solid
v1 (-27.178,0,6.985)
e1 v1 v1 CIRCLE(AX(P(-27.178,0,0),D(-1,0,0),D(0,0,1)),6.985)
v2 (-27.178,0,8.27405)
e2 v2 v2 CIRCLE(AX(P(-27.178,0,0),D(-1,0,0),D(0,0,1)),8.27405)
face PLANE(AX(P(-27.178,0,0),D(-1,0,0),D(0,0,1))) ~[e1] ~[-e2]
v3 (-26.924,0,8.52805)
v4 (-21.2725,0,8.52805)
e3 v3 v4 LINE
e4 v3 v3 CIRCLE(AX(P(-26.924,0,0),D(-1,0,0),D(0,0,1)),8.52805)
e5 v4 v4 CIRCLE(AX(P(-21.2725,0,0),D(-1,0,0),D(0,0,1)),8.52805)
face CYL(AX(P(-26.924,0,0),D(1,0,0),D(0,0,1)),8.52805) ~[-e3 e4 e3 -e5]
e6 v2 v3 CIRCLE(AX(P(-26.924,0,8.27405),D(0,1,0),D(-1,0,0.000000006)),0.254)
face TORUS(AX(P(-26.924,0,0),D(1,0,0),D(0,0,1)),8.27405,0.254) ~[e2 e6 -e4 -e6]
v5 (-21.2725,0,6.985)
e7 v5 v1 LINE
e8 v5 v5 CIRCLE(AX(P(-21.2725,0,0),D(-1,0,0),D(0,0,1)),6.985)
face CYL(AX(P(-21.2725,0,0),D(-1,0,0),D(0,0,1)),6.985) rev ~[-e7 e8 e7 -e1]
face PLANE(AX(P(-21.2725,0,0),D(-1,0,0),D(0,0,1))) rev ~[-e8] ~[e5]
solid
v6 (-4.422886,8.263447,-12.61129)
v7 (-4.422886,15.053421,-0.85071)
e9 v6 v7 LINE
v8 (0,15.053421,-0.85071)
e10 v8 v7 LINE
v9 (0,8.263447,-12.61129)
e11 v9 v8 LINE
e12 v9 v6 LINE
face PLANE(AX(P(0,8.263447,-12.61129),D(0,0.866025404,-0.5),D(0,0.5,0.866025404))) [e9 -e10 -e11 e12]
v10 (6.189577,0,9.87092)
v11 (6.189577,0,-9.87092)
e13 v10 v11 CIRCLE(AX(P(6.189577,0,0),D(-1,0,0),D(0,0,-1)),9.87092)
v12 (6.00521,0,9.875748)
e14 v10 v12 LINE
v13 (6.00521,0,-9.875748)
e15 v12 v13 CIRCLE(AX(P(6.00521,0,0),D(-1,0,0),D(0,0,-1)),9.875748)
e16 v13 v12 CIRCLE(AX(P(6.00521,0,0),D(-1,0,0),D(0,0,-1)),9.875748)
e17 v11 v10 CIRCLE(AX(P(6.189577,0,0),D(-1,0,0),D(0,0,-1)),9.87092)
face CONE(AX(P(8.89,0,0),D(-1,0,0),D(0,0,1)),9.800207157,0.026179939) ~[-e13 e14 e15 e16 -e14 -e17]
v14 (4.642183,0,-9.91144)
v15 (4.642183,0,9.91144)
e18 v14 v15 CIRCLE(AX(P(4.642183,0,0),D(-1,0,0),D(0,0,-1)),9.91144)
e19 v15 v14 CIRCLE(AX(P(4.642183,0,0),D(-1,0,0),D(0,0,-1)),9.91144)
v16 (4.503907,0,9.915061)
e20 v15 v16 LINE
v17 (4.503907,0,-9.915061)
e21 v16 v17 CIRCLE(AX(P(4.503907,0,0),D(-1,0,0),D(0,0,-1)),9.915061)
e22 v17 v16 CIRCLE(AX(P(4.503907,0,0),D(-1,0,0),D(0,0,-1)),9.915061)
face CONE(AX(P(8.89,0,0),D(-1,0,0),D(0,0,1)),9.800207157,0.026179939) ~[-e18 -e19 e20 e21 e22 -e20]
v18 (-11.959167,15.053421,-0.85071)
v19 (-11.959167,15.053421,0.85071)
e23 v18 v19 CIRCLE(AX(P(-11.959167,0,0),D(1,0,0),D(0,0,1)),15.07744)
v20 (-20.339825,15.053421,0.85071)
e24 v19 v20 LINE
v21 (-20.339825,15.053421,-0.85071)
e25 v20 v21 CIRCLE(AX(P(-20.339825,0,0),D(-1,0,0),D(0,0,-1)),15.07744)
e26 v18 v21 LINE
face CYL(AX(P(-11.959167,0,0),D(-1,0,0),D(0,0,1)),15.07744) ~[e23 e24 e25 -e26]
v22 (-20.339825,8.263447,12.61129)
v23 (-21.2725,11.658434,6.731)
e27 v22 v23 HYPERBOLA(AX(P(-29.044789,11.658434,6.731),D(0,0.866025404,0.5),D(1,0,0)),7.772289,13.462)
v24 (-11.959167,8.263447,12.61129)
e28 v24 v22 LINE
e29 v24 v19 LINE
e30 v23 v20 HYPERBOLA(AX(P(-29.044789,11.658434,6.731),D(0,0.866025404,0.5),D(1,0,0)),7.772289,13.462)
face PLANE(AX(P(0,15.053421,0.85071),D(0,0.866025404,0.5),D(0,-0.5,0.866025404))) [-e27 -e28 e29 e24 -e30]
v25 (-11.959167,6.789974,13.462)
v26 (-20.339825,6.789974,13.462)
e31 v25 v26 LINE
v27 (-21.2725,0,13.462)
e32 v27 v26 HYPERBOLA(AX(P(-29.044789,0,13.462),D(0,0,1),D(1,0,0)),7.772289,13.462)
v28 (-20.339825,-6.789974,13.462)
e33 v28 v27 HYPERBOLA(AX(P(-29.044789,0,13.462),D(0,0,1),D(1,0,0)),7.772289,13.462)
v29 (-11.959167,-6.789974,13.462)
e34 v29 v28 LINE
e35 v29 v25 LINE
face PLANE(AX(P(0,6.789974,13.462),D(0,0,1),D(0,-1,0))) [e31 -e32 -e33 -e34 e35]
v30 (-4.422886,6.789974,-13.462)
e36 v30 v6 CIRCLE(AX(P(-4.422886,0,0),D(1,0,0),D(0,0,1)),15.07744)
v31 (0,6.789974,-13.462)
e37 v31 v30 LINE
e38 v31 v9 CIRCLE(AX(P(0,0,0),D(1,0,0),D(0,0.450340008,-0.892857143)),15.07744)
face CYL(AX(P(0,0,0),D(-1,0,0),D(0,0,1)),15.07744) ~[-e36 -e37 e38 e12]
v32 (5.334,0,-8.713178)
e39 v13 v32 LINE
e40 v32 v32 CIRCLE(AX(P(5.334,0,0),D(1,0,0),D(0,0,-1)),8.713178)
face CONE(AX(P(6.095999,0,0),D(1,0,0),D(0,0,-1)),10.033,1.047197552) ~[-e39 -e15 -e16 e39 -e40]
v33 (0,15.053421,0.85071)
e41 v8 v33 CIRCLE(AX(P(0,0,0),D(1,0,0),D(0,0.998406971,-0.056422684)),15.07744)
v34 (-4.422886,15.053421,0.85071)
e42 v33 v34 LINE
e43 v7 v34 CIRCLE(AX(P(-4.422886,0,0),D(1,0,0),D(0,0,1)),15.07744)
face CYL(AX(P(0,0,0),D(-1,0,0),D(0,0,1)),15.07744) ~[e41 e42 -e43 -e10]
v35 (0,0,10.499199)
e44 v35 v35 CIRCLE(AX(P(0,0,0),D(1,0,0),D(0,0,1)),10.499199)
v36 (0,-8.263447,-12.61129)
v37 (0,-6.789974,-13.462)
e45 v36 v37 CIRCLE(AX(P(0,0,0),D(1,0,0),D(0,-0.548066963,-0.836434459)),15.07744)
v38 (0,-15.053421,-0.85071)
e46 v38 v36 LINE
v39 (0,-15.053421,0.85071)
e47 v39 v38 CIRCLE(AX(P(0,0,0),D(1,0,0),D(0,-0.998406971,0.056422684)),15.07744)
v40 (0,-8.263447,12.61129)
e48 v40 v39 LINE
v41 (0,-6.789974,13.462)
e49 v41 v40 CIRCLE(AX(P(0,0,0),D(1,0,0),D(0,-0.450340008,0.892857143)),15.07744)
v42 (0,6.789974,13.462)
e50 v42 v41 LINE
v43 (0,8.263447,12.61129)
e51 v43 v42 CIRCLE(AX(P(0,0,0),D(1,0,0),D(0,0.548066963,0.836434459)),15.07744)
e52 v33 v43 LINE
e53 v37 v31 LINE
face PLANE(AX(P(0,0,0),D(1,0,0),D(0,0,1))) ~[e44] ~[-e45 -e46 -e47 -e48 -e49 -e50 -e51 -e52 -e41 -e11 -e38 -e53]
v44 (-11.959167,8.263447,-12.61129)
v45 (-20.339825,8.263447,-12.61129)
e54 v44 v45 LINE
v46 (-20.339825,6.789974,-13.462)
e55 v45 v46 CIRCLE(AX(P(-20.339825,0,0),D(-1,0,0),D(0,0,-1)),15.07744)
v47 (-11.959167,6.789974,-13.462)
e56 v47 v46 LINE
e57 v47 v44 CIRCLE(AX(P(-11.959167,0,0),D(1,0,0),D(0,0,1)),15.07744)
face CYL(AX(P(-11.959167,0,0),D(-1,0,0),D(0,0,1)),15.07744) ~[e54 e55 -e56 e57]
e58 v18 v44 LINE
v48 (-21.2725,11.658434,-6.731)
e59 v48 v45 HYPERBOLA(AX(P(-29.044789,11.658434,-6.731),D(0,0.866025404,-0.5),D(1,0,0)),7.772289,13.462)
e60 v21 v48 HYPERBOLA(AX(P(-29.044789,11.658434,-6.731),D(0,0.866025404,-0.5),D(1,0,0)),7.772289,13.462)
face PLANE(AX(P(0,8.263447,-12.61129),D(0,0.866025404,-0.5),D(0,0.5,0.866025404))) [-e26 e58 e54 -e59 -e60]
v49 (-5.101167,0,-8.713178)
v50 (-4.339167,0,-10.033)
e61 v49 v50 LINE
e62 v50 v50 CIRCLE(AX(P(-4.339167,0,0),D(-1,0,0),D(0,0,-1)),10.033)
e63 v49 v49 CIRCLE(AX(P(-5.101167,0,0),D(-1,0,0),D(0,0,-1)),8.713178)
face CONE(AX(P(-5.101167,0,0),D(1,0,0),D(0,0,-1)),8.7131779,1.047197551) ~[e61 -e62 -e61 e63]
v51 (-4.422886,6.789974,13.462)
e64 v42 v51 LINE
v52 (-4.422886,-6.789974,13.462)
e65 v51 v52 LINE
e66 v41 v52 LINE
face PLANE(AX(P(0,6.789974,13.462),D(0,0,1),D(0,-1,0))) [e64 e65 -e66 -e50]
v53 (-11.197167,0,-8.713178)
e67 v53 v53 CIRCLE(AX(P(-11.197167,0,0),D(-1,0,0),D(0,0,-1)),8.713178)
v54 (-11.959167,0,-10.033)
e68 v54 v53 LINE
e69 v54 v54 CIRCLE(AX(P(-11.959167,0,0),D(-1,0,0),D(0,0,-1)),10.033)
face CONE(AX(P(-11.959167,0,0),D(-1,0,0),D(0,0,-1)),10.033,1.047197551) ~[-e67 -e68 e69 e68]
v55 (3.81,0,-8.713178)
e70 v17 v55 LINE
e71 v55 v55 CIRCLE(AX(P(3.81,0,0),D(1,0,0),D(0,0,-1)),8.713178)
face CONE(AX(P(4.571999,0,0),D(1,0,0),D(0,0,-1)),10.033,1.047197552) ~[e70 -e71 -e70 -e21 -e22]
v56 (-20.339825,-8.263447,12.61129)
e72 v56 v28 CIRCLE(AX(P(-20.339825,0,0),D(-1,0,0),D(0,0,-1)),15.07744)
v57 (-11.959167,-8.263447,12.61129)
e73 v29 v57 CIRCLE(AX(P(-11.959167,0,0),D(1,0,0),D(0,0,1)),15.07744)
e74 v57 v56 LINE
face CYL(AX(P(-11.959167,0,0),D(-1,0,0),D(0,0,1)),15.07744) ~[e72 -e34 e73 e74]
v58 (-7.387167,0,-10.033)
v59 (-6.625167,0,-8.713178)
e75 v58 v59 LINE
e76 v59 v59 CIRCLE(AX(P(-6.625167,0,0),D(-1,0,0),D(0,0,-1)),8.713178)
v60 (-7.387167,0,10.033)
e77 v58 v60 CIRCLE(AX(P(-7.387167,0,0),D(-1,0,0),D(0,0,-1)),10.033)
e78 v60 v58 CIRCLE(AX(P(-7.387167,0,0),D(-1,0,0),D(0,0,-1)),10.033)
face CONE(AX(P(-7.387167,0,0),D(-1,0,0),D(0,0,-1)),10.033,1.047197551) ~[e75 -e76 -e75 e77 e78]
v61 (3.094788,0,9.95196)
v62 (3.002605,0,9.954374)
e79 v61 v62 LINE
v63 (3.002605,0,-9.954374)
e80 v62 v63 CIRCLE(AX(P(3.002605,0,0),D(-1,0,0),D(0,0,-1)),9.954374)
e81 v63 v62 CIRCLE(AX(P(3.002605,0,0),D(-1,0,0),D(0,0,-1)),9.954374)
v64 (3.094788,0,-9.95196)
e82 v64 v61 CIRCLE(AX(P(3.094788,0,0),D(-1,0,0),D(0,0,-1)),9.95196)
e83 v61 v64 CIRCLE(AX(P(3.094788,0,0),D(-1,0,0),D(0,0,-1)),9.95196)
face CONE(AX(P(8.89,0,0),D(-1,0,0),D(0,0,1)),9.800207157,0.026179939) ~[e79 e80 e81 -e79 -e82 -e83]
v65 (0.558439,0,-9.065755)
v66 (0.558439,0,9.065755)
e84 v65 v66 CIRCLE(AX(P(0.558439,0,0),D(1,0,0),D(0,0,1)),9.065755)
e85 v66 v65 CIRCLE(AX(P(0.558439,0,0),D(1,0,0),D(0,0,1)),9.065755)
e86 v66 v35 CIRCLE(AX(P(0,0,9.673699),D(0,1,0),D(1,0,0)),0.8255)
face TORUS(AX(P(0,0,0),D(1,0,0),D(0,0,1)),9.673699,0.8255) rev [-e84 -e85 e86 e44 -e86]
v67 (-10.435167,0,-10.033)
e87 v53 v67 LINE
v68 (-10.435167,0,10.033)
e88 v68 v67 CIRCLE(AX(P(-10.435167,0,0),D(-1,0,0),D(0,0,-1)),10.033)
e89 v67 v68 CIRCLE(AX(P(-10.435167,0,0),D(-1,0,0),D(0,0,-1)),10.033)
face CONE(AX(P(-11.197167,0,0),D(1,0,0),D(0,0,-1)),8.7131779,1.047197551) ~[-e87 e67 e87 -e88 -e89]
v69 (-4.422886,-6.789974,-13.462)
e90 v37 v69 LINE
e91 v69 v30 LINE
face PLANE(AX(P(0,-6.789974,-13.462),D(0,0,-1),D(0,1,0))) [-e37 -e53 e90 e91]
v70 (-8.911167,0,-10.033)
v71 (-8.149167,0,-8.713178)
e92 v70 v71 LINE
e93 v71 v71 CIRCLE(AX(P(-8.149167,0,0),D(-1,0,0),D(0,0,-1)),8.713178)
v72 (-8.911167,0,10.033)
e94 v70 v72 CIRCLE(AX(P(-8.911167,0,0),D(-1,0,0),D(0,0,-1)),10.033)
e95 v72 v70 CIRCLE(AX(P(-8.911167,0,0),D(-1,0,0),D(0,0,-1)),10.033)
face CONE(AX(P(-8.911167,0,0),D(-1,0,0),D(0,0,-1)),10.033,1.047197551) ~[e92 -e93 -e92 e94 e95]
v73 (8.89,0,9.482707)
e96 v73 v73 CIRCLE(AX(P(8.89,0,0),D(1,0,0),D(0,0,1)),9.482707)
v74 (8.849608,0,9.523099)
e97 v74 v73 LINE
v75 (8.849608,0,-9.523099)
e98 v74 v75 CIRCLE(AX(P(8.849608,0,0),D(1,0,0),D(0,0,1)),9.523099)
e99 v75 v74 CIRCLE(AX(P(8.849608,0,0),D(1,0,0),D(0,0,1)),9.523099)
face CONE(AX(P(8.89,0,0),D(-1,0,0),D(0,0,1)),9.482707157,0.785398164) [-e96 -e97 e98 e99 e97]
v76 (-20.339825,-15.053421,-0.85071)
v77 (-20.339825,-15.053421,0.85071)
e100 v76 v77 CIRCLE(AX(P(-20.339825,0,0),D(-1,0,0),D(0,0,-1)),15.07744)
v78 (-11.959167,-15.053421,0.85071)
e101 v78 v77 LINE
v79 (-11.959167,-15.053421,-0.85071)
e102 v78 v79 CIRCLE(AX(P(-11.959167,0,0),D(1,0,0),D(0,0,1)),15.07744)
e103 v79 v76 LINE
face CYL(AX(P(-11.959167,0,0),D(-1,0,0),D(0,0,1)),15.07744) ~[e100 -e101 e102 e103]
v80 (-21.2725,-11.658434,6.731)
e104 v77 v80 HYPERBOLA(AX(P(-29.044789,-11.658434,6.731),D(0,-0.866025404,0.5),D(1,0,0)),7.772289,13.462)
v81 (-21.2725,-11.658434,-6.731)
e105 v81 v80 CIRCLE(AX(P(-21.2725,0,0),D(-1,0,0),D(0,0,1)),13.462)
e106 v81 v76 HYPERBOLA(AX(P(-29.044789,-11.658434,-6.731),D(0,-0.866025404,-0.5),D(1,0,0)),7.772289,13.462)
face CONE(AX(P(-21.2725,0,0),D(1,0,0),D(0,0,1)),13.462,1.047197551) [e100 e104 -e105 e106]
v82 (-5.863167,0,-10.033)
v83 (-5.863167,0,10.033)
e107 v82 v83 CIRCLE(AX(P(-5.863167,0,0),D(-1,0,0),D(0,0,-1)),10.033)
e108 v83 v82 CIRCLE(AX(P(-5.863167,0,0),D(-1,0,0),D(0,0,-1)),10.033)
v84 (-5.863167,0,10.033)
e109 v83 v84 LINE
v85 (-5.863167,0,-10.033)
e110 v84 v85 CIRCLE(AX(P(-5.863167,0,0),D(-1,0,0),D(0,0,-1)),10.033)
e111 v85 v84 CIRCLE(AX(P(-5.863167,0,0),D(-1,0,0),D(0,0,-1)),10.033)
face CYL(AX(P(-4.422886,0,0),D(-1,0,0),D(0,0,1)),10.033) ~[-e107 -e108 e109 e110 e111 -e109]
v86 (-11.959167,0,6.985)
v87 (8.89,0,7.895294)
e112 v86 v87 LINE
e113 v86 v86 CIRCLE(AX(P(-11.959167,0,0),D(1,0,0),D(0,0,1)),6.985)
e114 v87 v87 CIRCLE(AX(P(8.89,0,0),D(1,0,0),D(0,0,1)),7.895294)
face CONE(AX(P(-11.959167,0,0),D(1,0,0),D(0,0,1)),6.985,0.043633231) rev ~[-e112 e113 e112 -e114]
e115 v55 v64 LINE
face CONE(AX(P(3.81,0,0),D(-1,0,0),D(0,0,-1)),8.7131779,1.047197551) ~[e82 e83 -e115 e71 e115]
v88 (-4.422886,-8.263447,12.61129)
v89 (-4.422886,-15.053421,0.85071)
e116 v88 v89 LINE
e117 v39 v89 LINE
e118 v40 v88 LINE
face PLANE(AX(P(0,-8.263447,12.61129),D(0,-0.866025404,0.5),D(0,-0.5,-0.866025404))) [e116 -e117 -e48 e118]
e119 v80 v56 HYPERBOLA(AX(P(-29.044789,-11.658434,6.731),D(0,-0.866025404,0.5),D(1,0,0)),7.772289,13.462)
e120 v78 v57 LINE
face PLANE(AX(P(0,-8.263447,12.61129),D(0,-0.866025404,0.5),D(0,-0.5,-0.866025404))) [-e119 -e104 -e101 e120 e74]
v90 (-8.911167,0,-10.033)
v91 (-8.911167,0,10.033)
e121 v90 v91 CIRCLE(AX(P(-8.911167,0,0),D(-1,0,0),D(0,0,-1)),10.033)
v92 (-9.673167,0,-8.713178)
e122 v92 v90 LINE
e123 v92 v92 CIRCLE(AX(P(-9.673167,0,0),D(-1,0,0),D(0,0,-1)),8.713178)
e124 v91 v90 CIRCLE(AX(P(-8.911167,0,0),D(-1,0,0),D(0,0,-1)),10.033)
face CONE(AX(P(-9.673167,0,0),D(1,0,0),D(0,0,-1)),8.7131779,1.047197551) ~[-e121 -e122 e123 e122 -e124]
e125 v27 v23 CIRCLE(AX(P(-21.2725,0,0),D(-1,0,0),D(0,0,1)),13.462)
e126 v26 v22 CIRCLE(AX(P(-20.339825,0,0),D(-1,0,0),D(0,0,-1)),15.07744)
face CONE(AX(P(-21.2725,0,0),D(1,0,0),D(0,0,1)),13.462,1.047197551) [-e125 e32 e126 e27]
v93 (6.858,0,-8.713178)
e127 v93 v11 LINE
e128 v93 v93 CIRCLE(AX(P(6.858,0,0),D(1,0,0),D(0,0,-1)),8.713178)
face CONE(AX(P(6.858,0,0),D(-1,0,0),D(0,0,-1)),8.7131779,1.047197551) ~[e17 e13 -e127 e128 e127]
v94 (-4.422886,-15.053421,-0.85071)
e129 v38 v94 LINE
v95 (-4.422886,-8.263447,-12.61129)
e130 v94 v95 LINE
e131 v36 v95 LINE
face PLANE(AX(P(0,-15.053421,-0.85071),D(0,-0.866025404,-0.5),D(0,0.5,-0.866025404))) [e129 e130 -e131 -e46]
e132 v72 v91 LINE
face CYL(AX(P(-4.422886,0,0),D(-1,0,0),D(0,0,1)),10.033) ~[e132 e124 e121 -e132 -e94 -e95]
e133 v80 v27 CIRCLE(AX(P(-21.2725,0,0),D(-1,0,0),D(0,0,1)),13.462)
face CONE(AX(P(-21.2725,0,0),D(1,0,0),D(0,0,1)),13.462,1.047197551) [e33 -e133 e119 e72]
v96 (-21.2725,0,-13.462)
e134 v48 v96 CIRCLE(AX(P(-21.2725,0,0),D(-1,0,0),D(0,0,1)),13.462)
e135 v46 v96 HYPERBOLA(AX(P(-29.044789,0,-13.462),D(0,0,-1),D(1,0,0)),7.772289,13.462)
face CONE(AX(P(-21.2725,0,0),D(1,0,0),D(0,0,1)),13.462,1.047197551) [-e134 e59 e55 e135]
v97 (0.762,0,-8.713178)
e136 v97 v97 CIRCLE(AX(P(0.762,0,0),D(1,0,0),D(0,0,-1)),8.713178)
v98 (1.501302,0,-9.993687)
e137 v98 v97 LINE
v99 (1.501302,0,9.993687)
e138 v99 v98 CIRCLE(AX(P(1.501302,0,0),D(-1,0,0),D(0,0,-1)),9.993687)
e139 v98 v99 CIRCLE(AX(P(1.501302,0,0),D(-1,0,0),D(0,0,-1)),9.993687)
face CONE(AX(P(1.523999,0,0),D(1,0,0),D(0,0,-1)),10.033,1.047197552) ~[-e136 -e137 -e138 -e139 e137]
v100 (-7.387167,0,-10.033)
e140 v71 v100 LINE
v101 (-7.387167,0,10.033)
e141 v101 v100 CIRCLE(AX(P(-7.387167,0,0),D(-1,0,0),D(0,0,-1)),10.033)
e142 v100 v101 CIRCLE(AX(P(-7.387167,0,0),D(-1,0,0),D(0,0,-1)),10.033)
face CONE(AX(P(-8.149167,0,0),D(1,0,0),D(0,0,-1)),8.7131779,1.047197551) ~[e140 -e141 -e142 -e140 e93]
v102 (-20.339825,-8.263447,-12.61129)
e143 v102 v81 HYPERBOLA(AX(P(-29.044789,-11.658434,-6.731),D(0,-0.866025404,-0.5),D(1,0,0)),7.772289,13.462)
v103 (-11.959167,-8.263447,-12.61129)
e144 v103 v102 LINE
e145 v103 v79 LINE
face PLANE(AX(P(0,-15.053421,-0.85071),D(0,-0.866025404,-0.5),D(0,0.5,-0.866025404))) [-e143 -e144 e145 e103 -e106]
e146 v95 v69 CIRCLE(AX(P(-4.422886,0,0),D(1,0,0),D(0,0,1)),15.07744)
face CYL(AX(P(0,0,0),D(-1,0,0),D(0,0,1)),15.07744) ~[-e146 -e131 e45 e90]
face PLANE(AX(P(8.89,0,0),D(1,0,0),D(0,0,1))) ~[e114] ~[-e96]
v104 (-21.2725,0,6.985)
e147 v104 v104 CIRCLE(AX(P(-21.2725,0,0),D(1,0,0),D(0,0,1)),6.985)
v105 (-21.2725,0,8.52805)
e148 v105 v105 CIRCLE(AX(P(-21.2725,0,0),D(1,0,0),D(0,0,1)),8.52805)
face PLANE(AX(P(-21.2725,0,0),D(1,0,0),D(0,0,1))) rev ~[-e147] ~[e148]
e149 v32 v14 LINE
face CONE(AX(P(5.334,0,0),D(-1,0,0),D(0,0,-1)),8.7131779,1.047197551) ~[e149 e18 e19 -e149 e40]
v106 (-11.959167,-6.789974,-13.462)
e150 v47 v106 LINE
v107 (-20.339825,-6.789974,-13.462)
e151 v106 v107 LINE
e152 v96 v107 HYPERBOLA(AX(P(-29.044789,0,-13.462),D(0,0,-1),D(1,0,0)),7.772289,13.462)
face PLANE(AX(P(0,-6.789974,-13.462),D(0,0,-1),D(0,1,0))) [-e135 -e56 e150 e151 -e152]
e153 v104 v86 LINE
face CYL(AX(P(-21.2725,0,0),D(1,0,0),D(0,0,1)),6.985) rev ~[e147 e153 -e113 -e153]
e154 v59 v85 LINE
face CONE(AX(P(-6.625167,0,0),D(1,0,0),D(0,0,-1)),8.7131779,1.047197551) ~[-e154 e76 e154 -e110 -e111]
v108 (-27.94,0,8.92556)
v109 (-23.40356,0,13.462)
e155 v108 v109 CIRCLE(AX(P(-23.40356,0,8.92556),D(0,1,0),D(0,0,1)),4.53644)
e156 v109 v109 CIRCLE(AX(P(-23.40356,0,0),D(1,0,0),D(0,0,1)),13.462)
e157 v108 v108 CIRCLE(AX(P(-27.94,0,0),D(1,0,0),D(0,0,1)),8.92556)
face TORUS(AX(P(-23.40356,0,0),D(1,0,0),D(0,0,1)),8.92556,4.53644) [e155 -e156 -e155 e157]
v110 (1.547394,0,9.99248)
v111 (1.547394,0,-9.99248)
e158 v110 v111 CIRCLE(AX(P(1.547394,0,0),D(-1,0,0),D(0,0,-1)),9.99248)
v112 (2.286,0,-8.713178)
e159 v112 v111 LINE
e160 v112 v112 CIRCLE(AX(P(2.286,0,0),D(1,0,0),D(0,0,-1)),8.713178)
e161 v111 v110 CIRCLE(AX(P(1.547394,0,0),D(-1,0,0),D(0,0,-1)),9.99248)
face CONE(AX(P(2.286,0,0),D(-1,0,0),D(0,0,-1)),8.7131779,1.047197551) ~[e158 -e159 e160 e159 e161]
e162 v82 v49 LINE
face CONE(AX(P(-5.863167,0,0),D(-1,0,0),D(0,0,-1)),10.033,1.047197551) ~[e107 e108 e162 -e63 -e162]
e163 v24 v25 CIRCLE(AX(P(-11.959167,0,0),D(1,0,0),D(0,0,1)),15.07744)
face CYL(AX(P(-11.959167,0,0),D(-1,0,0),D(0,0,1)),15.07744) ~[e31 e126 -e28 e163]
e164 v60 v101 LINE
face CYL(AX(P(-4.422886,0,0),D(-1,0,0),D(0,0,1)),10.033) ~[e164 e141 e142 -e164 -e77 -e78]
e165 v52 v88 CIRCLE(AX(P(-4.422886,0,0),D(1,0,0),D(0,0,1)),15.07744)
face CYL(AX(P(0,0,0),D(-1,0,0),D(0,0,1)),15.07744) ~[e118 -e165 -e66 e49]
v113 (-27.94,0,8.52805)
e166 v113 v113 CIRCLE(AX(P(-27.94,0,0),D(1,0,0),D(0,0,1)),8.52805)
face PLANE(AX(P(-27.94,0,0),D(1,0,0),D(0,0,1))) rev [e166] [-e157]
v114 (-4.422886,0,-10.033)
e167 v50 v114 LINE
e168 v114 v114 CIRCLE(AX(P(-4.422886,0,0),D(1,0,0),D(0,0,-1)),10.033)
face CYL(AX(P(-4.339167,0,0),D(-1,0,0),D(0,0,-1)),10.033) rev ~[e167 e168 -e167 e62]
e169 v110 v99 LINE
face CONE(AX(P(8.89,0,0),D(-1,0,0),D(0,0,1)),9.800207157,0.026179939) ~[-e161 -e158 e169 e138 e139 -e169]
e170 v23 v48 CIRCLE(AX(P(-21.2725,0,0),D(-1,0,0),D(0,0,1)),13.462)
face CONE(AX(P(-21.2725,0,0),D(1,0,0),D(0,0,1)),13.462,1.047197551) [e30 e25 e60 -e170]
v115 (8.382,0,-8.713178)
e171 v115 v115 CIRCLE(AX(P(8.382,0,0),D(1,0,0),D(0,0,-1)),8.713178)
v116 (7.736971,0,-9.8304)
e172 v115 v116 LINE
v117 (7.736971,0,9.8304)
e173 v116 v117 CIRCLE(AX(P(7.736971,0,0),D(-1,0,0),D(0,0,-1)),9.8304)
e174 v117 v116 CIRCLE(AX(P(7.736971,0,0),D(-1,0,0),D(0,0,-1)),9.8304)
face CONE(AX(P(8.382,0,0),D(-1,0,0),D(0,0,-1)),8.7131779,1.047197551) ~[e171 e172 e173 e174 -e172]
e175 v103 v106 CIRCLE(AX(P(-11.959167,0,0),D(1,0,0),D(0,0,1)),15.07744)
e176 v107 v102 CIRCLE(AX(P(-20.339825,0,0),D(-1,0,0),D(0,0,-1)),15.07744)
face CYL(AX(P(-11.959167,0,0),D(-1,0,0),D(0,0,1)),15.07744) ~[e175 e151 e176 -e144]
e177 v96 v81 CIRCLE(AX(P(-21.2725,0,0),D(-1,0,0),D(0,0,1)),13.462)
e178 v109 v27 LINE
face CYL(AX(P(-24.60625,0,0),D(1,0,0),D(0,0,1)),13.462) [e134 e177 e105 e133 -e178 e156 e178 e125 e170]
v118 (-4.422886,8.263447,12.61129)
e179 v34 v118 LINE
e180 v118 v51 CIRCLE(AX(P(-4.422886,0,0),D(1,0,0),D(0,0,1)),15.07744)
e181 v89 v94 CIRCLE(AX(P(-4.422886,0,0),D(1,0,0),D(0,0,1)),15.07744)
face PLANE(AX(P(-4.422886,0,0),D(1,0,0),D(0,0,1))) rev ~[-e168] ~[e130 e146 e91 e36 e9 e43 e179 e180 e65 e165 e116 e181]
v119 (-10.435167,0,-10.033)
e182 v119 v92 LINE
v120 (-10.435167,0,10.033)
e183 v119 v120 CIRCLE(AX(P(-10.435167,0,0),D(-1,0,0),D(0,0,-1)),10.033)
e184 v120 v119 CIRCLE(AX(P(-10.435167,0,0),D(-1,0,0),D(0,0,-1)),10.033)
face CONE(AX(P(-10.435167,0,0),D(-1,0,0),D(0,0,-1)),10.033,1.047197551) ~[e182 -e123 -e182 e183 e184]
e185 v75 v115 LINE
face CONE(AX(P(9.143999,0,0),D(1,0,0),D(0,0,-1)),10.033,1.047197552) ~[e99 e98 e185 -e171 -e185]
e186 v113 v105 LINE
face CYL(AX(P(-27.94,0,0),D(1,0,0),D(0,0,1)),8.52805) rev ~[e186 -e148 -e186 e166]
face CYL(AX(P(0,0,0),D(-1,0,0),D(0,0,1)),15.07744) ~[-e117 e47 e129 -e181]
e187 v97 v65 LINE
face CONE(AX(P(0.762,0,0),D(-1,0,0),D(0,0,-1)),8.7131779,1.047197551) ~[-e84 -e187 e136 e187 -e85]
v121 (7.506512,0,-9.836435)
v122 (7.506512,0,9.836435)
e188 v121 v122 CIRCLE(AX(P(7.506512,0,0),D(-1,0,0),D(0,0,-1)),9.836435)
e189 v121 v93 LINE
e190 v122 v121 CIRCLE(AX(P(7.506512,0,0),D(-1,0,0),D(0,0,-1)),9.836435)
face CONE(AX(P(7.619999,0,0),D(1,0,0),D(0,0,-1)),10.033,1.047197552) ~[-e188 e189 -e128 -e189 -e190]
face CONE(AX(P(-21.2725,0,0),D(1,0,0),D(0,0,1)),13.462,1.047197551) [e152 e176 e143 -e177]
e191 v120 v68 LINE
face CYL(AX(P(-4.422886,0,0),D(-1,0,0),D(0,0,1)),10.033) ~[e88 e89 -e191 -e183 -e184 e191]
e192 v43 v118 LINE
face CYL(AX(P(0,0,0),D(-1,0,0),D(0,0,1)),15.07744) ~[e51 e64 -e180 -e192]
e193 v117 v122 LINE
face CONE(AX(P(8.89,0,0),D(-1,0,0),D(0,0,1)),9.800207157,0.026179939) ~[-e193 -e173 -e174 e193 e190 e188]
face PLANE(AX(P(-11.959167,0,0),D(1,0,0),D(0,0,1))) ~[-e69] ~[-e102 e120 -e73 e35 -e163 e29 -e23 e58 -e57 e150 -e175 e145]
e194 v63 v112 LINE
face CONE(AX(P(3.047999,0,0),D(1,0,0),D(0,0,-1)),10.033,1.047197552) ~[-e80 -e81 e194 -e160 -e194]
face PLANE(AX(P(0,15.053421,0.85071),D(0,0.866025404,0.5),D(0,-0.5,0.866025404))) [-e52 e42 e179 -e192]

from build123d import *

# Parameters (mm, degrees)
SKETCH2_OUTSIDE_W  = 43.424
SKETCH2_OUTSIDE_H  = 43.424
CUT_EXTRUDE1_DEPTH = 21.2725
CHAMFER1_SIZE      = 0.326149358
CHAMFER1_SIZE2     = 0.3175
SKETCH3_OUTSIDE_W  = 147.812
SKETCH3_OUTSIDE_H  = 151.042
SKETCH3_OUTSIDE_R  = 13.462
CUT_EXTRUDE2_DEPTH = 31.1625
CUT_EXTRUDE2_DRAFT = -60
SKETCH14_W         = 6.6675
SKETCH14_H         = 3.429
FILLET1_R          = 4.53644
LPATTERN1_COUNT    = 5
LPATTERN1_PITCH    = 1.524
LPATTERN2_COUNT    = 6
LPATTERN2_PITCH    = 1.524
SKETCH15_R         = 0.8255


with BuildPart() as part:
    # Sketch1 → Revolve1 (revolve)
    with BuildSketch(Plane.XY, mode=Mode.PRIVATE) as revolve1_sk:
        Polygon((-11.959166667, 10.033), (-11.959166667, 15.07744), (-21.2725, 15.07744), (-21.2725, 10.033), (-27.94, 10.033), (-27.94, 8.52805), (-21.2725, 8.52805), (-21.2725, 6.985), (-11.959166667, 6.985), (8.89, 7.895294276), (8.89, 9.800207157), (0, 10.033), (0, 15.07744), (-4.422885572, 15.07744), (-4.422885572, 10.033), align=None)
    revolve(revolve1_sk.sketch.rotate(Axis((-18.386021217, 0, 0), (1, 0, 0)), 90), axis=Axis((-18.386021217, 0, 0), (1, 0, 0)))  # turned: the seam where the file's is

    # Sketch2 outside → Cut-Extrude1 (cut)
    with BuildSketch(Plane(origin=(0, 0, 0), x_dir=(0, 0, -1), z_dir=(1, 0, 0))):
        Rectangle(SKETCH2_OUTSIDE_W, SKETCH2_OUTSIDE_H)
        with BuildLine():
            Line((13.462, -6.789974444), (13.462, 6.789974444))
            ThreePointArc((13.462, 6.789974444), (13.057446064, 7.53872), (12.61129036, 8.263446764))
            Line((12.61129036, 8.263446764), (0.85070964, 15.053421208))
            ThreePointArc((0.85070964, 15.053421208), (0, 15.07744), (-0.85070964, 15.053421208))
            Line((-0.85070964, 15.053421208), (-12.61129036, 8.263446764))
            ThreePointArc((-12.61129036, 8.263446764), (-13.057446064, 7.53872), (-13.462, 6.789974444))
            Line((-13.462, 6.789974444), (-13.462, -6.789974444))
            ThreePointArc((-13.462, -6.789974444), (-13.057446064, -7.53872), (-12.61129036, -8.263446764))
            Line((-12.61129036, -8.263446764), (-0.85070964, -15.053421208))
            ThreePointArc((-0.85070964, -15.053421208), (0, -15.07744), (0.85070964, -15.053421208))
            Line((0.85070964, -15.053421208), (12.61129036, -8.263446764))
            ThreePointArc((12.61129036, -8.263446764), (13.057446064, -7.53872), (13.462, -6.789974444))
        make_face(mode=Mode.SUBTRACT)
    extrude(amount=-CUT_EXTRUDE1_DEPTH, mode=Mode.SUBTRACT)

    # Chamfer1
    chamfer1_edges = [part.edges().sort_by_distance(p)[0] for p in [
        (8.89, 0, -9.800207157),
    ]]
    chamfer1_side = [part.faces().sort_by_distance(p)[0] for p in [
        (4.445, 0, -9.916603579),
    ]]
    chamfer(chamfer1_edges, length=CHAMFER1_SIZE, length2=CHAMFER1_SIZE2, reference=chamfer1_side[0])


with BuildPart() as cut_extrude2_tool:
    # Sketch3 outside → Cut-Extrude2 (with draft: the straight prism first)
    with BuildSketch(Plane.ZY.offset(21.2725)):
        Rectangle(SKETCH3_OUTSIDE_W, SKETCH3_OUTSIDE_H)
        Circle(SKETCH3_OUTSIDE_R, mode=Mode.SUBTRACT)
    extrude(amount=-CUT_EXTRUDE2_DEPTH)
    # Cut-Extrude2: the draft: its side faces are tilted about the plane it starts from
    cut_extrude2_sides = [cut_extrude2_tool.faces().sort_by_distance(p)[0] for p in [
        (-5.69125, -75.521, 0),
        (-5.69125, 0, 73.906),
        (-5.69125, 75.521, 0),
        (-5.69125, 0, -73.906),
        (-5.69125, 0, -13.462),
    ]]
    draft(cut_extrude2_sides, Plane.ZY.offset(21.2725), CUT_EXTRUDE2_DRAFT)


with BuildPart() as part_1:
    add(part.part)

    # Cut-Extrude2: cut by cut_extrude2_tool
    add(cut_extrude2_tool.part, mode=Mode.SUBTRACT)

    # Sketch14 → Revolve4 (revolve)
    with BuildSketch(Plane.XY, mode=Mode.PRIVATE) as revolve4_sk:
        with Locations((-24.60625, 11.7475)):
            Rectangle(SKETCH14_W, SKETCH14_H)
    revolve(revolve4_sk.sketch.rotate(Axis((-18.386021217, 0, 0), (1, 0, 0)), 90), axis=Axis((-18.386021217, 0, 0), (1, 0, 0)))  # turned: the seam where the file's is

    # Fillet1
    fillet1_edges = [part_1.edges().sort_by_distance(p)[0] for p in [
        (-27.94, 0, -13.462),
    ]]
    fillet(fillet1_edges, radius=FILLET1_R)

    # Sketch10 → Cut-Revolve1 (revolve, cut)
    with BuildSketch(Plane.XY, mode=Mode.PRIVATE) as cut_revolve1_sk:
        Polygon((-11.959166667, 10.033), (-11.197167022, 8.7131779), (-10.435167377, 10.033), align=None)
    cut_revolve1 = revolve(cut_revolve1_sk.sketch.rotate(Axis((15.58962545, 0, 0), (-1, 0, 0)), 90), axis=Axis((15.58962545, 0, 0), (-1, 0, 0)), mode=Mode.SUBTRACT)  # turned: the seam where the file's is

    # LPattern1: Cut-Revolve1 ×5
    with Locations(*[(i * LPATTERN1_PITCH, 0, 0) for i in range(1, LPATTERN1_COUNT)]):
        add(cut_revolve1, mode=Mode.SUBTRACT)

    # Sketch13 → Cut-Revolve2 (revolve, cut)
    with BuildSketch(Plane.XY, mode=Mode.PRIVATE) as cut_revolve2_sk:
        Polygon((0, 10.033), (1.523999289, 10.033), (0.761999645, 8.7131779), align=None)
    cut_revolve2 = revolve(cut_revolve2_sk.sketch.rotate(Axis((-18.386021217, 0, 0), (1, 0, 0)), 270), axis=Axis((-18.386021217, 0, 0), (1, 0, 0)), mode=Mode.SUBTRACT)  # turned: the seam where the file's is

    # LPattern2: Cut-Revolve2 ×6
    with Locations(*[(i * LPATTERN2_PITCH, 0, 0) for i in range(1, LPATTERN2_COUNT)]):
        add(cut_revolve2, mode=Mode.SUBTRACT)

    # Sketch15 → Cut-Revolve3 (revolve, cut)
    with BuildSketch(Plane.XY, mode=Mode.PRIVATE) as cut_revolve3_sk:
        with Locations((0, -9.673698712)):
            Circle(SKETCH15_R)
    revolve(cut_revolve3_sk.sketch.rotate(Axis((1.524, 0, 0), (-1, 0, 0)), 90), axis=Axis((1.524, 0, 0), (-1, 0, 0)), mode=Mode.SUBTRACT)  # turned: the seam where the file's is


with BuildPart() as body_2:
    # Sketch9 → Revolve3 (revolve)
    with BuildSketch(Plane.XY, mode=Mode.PRIVATE) as revolve3_sk:
        with BuildLine():
            Line((-27.178, 6.985), (-27.178, 8.27405))
            ThreePointArc((-27.178, 8.27405), (-27.103605122, 8.453655122), (-26.924, 8.52805))
            Line((-26.924, 8.52805), (-21.2725, 8.52805))
            Line((-21.2725, 8.52805), (-21.2725, 6.985))
            Line((-21.2725, 6.985), (-27.178, 6.985))
        make_face()
    revolve(revolve3_sk.sketch.rotate(Axis((8.695207459, 0, 0), (-1, 0, 0)), 270), axis=Axis((8.695207459, 0, 0), (-1, 0, 0)))  # turned: the seam where the file's is


solid = Compound([part_1.part, body_2.part])
